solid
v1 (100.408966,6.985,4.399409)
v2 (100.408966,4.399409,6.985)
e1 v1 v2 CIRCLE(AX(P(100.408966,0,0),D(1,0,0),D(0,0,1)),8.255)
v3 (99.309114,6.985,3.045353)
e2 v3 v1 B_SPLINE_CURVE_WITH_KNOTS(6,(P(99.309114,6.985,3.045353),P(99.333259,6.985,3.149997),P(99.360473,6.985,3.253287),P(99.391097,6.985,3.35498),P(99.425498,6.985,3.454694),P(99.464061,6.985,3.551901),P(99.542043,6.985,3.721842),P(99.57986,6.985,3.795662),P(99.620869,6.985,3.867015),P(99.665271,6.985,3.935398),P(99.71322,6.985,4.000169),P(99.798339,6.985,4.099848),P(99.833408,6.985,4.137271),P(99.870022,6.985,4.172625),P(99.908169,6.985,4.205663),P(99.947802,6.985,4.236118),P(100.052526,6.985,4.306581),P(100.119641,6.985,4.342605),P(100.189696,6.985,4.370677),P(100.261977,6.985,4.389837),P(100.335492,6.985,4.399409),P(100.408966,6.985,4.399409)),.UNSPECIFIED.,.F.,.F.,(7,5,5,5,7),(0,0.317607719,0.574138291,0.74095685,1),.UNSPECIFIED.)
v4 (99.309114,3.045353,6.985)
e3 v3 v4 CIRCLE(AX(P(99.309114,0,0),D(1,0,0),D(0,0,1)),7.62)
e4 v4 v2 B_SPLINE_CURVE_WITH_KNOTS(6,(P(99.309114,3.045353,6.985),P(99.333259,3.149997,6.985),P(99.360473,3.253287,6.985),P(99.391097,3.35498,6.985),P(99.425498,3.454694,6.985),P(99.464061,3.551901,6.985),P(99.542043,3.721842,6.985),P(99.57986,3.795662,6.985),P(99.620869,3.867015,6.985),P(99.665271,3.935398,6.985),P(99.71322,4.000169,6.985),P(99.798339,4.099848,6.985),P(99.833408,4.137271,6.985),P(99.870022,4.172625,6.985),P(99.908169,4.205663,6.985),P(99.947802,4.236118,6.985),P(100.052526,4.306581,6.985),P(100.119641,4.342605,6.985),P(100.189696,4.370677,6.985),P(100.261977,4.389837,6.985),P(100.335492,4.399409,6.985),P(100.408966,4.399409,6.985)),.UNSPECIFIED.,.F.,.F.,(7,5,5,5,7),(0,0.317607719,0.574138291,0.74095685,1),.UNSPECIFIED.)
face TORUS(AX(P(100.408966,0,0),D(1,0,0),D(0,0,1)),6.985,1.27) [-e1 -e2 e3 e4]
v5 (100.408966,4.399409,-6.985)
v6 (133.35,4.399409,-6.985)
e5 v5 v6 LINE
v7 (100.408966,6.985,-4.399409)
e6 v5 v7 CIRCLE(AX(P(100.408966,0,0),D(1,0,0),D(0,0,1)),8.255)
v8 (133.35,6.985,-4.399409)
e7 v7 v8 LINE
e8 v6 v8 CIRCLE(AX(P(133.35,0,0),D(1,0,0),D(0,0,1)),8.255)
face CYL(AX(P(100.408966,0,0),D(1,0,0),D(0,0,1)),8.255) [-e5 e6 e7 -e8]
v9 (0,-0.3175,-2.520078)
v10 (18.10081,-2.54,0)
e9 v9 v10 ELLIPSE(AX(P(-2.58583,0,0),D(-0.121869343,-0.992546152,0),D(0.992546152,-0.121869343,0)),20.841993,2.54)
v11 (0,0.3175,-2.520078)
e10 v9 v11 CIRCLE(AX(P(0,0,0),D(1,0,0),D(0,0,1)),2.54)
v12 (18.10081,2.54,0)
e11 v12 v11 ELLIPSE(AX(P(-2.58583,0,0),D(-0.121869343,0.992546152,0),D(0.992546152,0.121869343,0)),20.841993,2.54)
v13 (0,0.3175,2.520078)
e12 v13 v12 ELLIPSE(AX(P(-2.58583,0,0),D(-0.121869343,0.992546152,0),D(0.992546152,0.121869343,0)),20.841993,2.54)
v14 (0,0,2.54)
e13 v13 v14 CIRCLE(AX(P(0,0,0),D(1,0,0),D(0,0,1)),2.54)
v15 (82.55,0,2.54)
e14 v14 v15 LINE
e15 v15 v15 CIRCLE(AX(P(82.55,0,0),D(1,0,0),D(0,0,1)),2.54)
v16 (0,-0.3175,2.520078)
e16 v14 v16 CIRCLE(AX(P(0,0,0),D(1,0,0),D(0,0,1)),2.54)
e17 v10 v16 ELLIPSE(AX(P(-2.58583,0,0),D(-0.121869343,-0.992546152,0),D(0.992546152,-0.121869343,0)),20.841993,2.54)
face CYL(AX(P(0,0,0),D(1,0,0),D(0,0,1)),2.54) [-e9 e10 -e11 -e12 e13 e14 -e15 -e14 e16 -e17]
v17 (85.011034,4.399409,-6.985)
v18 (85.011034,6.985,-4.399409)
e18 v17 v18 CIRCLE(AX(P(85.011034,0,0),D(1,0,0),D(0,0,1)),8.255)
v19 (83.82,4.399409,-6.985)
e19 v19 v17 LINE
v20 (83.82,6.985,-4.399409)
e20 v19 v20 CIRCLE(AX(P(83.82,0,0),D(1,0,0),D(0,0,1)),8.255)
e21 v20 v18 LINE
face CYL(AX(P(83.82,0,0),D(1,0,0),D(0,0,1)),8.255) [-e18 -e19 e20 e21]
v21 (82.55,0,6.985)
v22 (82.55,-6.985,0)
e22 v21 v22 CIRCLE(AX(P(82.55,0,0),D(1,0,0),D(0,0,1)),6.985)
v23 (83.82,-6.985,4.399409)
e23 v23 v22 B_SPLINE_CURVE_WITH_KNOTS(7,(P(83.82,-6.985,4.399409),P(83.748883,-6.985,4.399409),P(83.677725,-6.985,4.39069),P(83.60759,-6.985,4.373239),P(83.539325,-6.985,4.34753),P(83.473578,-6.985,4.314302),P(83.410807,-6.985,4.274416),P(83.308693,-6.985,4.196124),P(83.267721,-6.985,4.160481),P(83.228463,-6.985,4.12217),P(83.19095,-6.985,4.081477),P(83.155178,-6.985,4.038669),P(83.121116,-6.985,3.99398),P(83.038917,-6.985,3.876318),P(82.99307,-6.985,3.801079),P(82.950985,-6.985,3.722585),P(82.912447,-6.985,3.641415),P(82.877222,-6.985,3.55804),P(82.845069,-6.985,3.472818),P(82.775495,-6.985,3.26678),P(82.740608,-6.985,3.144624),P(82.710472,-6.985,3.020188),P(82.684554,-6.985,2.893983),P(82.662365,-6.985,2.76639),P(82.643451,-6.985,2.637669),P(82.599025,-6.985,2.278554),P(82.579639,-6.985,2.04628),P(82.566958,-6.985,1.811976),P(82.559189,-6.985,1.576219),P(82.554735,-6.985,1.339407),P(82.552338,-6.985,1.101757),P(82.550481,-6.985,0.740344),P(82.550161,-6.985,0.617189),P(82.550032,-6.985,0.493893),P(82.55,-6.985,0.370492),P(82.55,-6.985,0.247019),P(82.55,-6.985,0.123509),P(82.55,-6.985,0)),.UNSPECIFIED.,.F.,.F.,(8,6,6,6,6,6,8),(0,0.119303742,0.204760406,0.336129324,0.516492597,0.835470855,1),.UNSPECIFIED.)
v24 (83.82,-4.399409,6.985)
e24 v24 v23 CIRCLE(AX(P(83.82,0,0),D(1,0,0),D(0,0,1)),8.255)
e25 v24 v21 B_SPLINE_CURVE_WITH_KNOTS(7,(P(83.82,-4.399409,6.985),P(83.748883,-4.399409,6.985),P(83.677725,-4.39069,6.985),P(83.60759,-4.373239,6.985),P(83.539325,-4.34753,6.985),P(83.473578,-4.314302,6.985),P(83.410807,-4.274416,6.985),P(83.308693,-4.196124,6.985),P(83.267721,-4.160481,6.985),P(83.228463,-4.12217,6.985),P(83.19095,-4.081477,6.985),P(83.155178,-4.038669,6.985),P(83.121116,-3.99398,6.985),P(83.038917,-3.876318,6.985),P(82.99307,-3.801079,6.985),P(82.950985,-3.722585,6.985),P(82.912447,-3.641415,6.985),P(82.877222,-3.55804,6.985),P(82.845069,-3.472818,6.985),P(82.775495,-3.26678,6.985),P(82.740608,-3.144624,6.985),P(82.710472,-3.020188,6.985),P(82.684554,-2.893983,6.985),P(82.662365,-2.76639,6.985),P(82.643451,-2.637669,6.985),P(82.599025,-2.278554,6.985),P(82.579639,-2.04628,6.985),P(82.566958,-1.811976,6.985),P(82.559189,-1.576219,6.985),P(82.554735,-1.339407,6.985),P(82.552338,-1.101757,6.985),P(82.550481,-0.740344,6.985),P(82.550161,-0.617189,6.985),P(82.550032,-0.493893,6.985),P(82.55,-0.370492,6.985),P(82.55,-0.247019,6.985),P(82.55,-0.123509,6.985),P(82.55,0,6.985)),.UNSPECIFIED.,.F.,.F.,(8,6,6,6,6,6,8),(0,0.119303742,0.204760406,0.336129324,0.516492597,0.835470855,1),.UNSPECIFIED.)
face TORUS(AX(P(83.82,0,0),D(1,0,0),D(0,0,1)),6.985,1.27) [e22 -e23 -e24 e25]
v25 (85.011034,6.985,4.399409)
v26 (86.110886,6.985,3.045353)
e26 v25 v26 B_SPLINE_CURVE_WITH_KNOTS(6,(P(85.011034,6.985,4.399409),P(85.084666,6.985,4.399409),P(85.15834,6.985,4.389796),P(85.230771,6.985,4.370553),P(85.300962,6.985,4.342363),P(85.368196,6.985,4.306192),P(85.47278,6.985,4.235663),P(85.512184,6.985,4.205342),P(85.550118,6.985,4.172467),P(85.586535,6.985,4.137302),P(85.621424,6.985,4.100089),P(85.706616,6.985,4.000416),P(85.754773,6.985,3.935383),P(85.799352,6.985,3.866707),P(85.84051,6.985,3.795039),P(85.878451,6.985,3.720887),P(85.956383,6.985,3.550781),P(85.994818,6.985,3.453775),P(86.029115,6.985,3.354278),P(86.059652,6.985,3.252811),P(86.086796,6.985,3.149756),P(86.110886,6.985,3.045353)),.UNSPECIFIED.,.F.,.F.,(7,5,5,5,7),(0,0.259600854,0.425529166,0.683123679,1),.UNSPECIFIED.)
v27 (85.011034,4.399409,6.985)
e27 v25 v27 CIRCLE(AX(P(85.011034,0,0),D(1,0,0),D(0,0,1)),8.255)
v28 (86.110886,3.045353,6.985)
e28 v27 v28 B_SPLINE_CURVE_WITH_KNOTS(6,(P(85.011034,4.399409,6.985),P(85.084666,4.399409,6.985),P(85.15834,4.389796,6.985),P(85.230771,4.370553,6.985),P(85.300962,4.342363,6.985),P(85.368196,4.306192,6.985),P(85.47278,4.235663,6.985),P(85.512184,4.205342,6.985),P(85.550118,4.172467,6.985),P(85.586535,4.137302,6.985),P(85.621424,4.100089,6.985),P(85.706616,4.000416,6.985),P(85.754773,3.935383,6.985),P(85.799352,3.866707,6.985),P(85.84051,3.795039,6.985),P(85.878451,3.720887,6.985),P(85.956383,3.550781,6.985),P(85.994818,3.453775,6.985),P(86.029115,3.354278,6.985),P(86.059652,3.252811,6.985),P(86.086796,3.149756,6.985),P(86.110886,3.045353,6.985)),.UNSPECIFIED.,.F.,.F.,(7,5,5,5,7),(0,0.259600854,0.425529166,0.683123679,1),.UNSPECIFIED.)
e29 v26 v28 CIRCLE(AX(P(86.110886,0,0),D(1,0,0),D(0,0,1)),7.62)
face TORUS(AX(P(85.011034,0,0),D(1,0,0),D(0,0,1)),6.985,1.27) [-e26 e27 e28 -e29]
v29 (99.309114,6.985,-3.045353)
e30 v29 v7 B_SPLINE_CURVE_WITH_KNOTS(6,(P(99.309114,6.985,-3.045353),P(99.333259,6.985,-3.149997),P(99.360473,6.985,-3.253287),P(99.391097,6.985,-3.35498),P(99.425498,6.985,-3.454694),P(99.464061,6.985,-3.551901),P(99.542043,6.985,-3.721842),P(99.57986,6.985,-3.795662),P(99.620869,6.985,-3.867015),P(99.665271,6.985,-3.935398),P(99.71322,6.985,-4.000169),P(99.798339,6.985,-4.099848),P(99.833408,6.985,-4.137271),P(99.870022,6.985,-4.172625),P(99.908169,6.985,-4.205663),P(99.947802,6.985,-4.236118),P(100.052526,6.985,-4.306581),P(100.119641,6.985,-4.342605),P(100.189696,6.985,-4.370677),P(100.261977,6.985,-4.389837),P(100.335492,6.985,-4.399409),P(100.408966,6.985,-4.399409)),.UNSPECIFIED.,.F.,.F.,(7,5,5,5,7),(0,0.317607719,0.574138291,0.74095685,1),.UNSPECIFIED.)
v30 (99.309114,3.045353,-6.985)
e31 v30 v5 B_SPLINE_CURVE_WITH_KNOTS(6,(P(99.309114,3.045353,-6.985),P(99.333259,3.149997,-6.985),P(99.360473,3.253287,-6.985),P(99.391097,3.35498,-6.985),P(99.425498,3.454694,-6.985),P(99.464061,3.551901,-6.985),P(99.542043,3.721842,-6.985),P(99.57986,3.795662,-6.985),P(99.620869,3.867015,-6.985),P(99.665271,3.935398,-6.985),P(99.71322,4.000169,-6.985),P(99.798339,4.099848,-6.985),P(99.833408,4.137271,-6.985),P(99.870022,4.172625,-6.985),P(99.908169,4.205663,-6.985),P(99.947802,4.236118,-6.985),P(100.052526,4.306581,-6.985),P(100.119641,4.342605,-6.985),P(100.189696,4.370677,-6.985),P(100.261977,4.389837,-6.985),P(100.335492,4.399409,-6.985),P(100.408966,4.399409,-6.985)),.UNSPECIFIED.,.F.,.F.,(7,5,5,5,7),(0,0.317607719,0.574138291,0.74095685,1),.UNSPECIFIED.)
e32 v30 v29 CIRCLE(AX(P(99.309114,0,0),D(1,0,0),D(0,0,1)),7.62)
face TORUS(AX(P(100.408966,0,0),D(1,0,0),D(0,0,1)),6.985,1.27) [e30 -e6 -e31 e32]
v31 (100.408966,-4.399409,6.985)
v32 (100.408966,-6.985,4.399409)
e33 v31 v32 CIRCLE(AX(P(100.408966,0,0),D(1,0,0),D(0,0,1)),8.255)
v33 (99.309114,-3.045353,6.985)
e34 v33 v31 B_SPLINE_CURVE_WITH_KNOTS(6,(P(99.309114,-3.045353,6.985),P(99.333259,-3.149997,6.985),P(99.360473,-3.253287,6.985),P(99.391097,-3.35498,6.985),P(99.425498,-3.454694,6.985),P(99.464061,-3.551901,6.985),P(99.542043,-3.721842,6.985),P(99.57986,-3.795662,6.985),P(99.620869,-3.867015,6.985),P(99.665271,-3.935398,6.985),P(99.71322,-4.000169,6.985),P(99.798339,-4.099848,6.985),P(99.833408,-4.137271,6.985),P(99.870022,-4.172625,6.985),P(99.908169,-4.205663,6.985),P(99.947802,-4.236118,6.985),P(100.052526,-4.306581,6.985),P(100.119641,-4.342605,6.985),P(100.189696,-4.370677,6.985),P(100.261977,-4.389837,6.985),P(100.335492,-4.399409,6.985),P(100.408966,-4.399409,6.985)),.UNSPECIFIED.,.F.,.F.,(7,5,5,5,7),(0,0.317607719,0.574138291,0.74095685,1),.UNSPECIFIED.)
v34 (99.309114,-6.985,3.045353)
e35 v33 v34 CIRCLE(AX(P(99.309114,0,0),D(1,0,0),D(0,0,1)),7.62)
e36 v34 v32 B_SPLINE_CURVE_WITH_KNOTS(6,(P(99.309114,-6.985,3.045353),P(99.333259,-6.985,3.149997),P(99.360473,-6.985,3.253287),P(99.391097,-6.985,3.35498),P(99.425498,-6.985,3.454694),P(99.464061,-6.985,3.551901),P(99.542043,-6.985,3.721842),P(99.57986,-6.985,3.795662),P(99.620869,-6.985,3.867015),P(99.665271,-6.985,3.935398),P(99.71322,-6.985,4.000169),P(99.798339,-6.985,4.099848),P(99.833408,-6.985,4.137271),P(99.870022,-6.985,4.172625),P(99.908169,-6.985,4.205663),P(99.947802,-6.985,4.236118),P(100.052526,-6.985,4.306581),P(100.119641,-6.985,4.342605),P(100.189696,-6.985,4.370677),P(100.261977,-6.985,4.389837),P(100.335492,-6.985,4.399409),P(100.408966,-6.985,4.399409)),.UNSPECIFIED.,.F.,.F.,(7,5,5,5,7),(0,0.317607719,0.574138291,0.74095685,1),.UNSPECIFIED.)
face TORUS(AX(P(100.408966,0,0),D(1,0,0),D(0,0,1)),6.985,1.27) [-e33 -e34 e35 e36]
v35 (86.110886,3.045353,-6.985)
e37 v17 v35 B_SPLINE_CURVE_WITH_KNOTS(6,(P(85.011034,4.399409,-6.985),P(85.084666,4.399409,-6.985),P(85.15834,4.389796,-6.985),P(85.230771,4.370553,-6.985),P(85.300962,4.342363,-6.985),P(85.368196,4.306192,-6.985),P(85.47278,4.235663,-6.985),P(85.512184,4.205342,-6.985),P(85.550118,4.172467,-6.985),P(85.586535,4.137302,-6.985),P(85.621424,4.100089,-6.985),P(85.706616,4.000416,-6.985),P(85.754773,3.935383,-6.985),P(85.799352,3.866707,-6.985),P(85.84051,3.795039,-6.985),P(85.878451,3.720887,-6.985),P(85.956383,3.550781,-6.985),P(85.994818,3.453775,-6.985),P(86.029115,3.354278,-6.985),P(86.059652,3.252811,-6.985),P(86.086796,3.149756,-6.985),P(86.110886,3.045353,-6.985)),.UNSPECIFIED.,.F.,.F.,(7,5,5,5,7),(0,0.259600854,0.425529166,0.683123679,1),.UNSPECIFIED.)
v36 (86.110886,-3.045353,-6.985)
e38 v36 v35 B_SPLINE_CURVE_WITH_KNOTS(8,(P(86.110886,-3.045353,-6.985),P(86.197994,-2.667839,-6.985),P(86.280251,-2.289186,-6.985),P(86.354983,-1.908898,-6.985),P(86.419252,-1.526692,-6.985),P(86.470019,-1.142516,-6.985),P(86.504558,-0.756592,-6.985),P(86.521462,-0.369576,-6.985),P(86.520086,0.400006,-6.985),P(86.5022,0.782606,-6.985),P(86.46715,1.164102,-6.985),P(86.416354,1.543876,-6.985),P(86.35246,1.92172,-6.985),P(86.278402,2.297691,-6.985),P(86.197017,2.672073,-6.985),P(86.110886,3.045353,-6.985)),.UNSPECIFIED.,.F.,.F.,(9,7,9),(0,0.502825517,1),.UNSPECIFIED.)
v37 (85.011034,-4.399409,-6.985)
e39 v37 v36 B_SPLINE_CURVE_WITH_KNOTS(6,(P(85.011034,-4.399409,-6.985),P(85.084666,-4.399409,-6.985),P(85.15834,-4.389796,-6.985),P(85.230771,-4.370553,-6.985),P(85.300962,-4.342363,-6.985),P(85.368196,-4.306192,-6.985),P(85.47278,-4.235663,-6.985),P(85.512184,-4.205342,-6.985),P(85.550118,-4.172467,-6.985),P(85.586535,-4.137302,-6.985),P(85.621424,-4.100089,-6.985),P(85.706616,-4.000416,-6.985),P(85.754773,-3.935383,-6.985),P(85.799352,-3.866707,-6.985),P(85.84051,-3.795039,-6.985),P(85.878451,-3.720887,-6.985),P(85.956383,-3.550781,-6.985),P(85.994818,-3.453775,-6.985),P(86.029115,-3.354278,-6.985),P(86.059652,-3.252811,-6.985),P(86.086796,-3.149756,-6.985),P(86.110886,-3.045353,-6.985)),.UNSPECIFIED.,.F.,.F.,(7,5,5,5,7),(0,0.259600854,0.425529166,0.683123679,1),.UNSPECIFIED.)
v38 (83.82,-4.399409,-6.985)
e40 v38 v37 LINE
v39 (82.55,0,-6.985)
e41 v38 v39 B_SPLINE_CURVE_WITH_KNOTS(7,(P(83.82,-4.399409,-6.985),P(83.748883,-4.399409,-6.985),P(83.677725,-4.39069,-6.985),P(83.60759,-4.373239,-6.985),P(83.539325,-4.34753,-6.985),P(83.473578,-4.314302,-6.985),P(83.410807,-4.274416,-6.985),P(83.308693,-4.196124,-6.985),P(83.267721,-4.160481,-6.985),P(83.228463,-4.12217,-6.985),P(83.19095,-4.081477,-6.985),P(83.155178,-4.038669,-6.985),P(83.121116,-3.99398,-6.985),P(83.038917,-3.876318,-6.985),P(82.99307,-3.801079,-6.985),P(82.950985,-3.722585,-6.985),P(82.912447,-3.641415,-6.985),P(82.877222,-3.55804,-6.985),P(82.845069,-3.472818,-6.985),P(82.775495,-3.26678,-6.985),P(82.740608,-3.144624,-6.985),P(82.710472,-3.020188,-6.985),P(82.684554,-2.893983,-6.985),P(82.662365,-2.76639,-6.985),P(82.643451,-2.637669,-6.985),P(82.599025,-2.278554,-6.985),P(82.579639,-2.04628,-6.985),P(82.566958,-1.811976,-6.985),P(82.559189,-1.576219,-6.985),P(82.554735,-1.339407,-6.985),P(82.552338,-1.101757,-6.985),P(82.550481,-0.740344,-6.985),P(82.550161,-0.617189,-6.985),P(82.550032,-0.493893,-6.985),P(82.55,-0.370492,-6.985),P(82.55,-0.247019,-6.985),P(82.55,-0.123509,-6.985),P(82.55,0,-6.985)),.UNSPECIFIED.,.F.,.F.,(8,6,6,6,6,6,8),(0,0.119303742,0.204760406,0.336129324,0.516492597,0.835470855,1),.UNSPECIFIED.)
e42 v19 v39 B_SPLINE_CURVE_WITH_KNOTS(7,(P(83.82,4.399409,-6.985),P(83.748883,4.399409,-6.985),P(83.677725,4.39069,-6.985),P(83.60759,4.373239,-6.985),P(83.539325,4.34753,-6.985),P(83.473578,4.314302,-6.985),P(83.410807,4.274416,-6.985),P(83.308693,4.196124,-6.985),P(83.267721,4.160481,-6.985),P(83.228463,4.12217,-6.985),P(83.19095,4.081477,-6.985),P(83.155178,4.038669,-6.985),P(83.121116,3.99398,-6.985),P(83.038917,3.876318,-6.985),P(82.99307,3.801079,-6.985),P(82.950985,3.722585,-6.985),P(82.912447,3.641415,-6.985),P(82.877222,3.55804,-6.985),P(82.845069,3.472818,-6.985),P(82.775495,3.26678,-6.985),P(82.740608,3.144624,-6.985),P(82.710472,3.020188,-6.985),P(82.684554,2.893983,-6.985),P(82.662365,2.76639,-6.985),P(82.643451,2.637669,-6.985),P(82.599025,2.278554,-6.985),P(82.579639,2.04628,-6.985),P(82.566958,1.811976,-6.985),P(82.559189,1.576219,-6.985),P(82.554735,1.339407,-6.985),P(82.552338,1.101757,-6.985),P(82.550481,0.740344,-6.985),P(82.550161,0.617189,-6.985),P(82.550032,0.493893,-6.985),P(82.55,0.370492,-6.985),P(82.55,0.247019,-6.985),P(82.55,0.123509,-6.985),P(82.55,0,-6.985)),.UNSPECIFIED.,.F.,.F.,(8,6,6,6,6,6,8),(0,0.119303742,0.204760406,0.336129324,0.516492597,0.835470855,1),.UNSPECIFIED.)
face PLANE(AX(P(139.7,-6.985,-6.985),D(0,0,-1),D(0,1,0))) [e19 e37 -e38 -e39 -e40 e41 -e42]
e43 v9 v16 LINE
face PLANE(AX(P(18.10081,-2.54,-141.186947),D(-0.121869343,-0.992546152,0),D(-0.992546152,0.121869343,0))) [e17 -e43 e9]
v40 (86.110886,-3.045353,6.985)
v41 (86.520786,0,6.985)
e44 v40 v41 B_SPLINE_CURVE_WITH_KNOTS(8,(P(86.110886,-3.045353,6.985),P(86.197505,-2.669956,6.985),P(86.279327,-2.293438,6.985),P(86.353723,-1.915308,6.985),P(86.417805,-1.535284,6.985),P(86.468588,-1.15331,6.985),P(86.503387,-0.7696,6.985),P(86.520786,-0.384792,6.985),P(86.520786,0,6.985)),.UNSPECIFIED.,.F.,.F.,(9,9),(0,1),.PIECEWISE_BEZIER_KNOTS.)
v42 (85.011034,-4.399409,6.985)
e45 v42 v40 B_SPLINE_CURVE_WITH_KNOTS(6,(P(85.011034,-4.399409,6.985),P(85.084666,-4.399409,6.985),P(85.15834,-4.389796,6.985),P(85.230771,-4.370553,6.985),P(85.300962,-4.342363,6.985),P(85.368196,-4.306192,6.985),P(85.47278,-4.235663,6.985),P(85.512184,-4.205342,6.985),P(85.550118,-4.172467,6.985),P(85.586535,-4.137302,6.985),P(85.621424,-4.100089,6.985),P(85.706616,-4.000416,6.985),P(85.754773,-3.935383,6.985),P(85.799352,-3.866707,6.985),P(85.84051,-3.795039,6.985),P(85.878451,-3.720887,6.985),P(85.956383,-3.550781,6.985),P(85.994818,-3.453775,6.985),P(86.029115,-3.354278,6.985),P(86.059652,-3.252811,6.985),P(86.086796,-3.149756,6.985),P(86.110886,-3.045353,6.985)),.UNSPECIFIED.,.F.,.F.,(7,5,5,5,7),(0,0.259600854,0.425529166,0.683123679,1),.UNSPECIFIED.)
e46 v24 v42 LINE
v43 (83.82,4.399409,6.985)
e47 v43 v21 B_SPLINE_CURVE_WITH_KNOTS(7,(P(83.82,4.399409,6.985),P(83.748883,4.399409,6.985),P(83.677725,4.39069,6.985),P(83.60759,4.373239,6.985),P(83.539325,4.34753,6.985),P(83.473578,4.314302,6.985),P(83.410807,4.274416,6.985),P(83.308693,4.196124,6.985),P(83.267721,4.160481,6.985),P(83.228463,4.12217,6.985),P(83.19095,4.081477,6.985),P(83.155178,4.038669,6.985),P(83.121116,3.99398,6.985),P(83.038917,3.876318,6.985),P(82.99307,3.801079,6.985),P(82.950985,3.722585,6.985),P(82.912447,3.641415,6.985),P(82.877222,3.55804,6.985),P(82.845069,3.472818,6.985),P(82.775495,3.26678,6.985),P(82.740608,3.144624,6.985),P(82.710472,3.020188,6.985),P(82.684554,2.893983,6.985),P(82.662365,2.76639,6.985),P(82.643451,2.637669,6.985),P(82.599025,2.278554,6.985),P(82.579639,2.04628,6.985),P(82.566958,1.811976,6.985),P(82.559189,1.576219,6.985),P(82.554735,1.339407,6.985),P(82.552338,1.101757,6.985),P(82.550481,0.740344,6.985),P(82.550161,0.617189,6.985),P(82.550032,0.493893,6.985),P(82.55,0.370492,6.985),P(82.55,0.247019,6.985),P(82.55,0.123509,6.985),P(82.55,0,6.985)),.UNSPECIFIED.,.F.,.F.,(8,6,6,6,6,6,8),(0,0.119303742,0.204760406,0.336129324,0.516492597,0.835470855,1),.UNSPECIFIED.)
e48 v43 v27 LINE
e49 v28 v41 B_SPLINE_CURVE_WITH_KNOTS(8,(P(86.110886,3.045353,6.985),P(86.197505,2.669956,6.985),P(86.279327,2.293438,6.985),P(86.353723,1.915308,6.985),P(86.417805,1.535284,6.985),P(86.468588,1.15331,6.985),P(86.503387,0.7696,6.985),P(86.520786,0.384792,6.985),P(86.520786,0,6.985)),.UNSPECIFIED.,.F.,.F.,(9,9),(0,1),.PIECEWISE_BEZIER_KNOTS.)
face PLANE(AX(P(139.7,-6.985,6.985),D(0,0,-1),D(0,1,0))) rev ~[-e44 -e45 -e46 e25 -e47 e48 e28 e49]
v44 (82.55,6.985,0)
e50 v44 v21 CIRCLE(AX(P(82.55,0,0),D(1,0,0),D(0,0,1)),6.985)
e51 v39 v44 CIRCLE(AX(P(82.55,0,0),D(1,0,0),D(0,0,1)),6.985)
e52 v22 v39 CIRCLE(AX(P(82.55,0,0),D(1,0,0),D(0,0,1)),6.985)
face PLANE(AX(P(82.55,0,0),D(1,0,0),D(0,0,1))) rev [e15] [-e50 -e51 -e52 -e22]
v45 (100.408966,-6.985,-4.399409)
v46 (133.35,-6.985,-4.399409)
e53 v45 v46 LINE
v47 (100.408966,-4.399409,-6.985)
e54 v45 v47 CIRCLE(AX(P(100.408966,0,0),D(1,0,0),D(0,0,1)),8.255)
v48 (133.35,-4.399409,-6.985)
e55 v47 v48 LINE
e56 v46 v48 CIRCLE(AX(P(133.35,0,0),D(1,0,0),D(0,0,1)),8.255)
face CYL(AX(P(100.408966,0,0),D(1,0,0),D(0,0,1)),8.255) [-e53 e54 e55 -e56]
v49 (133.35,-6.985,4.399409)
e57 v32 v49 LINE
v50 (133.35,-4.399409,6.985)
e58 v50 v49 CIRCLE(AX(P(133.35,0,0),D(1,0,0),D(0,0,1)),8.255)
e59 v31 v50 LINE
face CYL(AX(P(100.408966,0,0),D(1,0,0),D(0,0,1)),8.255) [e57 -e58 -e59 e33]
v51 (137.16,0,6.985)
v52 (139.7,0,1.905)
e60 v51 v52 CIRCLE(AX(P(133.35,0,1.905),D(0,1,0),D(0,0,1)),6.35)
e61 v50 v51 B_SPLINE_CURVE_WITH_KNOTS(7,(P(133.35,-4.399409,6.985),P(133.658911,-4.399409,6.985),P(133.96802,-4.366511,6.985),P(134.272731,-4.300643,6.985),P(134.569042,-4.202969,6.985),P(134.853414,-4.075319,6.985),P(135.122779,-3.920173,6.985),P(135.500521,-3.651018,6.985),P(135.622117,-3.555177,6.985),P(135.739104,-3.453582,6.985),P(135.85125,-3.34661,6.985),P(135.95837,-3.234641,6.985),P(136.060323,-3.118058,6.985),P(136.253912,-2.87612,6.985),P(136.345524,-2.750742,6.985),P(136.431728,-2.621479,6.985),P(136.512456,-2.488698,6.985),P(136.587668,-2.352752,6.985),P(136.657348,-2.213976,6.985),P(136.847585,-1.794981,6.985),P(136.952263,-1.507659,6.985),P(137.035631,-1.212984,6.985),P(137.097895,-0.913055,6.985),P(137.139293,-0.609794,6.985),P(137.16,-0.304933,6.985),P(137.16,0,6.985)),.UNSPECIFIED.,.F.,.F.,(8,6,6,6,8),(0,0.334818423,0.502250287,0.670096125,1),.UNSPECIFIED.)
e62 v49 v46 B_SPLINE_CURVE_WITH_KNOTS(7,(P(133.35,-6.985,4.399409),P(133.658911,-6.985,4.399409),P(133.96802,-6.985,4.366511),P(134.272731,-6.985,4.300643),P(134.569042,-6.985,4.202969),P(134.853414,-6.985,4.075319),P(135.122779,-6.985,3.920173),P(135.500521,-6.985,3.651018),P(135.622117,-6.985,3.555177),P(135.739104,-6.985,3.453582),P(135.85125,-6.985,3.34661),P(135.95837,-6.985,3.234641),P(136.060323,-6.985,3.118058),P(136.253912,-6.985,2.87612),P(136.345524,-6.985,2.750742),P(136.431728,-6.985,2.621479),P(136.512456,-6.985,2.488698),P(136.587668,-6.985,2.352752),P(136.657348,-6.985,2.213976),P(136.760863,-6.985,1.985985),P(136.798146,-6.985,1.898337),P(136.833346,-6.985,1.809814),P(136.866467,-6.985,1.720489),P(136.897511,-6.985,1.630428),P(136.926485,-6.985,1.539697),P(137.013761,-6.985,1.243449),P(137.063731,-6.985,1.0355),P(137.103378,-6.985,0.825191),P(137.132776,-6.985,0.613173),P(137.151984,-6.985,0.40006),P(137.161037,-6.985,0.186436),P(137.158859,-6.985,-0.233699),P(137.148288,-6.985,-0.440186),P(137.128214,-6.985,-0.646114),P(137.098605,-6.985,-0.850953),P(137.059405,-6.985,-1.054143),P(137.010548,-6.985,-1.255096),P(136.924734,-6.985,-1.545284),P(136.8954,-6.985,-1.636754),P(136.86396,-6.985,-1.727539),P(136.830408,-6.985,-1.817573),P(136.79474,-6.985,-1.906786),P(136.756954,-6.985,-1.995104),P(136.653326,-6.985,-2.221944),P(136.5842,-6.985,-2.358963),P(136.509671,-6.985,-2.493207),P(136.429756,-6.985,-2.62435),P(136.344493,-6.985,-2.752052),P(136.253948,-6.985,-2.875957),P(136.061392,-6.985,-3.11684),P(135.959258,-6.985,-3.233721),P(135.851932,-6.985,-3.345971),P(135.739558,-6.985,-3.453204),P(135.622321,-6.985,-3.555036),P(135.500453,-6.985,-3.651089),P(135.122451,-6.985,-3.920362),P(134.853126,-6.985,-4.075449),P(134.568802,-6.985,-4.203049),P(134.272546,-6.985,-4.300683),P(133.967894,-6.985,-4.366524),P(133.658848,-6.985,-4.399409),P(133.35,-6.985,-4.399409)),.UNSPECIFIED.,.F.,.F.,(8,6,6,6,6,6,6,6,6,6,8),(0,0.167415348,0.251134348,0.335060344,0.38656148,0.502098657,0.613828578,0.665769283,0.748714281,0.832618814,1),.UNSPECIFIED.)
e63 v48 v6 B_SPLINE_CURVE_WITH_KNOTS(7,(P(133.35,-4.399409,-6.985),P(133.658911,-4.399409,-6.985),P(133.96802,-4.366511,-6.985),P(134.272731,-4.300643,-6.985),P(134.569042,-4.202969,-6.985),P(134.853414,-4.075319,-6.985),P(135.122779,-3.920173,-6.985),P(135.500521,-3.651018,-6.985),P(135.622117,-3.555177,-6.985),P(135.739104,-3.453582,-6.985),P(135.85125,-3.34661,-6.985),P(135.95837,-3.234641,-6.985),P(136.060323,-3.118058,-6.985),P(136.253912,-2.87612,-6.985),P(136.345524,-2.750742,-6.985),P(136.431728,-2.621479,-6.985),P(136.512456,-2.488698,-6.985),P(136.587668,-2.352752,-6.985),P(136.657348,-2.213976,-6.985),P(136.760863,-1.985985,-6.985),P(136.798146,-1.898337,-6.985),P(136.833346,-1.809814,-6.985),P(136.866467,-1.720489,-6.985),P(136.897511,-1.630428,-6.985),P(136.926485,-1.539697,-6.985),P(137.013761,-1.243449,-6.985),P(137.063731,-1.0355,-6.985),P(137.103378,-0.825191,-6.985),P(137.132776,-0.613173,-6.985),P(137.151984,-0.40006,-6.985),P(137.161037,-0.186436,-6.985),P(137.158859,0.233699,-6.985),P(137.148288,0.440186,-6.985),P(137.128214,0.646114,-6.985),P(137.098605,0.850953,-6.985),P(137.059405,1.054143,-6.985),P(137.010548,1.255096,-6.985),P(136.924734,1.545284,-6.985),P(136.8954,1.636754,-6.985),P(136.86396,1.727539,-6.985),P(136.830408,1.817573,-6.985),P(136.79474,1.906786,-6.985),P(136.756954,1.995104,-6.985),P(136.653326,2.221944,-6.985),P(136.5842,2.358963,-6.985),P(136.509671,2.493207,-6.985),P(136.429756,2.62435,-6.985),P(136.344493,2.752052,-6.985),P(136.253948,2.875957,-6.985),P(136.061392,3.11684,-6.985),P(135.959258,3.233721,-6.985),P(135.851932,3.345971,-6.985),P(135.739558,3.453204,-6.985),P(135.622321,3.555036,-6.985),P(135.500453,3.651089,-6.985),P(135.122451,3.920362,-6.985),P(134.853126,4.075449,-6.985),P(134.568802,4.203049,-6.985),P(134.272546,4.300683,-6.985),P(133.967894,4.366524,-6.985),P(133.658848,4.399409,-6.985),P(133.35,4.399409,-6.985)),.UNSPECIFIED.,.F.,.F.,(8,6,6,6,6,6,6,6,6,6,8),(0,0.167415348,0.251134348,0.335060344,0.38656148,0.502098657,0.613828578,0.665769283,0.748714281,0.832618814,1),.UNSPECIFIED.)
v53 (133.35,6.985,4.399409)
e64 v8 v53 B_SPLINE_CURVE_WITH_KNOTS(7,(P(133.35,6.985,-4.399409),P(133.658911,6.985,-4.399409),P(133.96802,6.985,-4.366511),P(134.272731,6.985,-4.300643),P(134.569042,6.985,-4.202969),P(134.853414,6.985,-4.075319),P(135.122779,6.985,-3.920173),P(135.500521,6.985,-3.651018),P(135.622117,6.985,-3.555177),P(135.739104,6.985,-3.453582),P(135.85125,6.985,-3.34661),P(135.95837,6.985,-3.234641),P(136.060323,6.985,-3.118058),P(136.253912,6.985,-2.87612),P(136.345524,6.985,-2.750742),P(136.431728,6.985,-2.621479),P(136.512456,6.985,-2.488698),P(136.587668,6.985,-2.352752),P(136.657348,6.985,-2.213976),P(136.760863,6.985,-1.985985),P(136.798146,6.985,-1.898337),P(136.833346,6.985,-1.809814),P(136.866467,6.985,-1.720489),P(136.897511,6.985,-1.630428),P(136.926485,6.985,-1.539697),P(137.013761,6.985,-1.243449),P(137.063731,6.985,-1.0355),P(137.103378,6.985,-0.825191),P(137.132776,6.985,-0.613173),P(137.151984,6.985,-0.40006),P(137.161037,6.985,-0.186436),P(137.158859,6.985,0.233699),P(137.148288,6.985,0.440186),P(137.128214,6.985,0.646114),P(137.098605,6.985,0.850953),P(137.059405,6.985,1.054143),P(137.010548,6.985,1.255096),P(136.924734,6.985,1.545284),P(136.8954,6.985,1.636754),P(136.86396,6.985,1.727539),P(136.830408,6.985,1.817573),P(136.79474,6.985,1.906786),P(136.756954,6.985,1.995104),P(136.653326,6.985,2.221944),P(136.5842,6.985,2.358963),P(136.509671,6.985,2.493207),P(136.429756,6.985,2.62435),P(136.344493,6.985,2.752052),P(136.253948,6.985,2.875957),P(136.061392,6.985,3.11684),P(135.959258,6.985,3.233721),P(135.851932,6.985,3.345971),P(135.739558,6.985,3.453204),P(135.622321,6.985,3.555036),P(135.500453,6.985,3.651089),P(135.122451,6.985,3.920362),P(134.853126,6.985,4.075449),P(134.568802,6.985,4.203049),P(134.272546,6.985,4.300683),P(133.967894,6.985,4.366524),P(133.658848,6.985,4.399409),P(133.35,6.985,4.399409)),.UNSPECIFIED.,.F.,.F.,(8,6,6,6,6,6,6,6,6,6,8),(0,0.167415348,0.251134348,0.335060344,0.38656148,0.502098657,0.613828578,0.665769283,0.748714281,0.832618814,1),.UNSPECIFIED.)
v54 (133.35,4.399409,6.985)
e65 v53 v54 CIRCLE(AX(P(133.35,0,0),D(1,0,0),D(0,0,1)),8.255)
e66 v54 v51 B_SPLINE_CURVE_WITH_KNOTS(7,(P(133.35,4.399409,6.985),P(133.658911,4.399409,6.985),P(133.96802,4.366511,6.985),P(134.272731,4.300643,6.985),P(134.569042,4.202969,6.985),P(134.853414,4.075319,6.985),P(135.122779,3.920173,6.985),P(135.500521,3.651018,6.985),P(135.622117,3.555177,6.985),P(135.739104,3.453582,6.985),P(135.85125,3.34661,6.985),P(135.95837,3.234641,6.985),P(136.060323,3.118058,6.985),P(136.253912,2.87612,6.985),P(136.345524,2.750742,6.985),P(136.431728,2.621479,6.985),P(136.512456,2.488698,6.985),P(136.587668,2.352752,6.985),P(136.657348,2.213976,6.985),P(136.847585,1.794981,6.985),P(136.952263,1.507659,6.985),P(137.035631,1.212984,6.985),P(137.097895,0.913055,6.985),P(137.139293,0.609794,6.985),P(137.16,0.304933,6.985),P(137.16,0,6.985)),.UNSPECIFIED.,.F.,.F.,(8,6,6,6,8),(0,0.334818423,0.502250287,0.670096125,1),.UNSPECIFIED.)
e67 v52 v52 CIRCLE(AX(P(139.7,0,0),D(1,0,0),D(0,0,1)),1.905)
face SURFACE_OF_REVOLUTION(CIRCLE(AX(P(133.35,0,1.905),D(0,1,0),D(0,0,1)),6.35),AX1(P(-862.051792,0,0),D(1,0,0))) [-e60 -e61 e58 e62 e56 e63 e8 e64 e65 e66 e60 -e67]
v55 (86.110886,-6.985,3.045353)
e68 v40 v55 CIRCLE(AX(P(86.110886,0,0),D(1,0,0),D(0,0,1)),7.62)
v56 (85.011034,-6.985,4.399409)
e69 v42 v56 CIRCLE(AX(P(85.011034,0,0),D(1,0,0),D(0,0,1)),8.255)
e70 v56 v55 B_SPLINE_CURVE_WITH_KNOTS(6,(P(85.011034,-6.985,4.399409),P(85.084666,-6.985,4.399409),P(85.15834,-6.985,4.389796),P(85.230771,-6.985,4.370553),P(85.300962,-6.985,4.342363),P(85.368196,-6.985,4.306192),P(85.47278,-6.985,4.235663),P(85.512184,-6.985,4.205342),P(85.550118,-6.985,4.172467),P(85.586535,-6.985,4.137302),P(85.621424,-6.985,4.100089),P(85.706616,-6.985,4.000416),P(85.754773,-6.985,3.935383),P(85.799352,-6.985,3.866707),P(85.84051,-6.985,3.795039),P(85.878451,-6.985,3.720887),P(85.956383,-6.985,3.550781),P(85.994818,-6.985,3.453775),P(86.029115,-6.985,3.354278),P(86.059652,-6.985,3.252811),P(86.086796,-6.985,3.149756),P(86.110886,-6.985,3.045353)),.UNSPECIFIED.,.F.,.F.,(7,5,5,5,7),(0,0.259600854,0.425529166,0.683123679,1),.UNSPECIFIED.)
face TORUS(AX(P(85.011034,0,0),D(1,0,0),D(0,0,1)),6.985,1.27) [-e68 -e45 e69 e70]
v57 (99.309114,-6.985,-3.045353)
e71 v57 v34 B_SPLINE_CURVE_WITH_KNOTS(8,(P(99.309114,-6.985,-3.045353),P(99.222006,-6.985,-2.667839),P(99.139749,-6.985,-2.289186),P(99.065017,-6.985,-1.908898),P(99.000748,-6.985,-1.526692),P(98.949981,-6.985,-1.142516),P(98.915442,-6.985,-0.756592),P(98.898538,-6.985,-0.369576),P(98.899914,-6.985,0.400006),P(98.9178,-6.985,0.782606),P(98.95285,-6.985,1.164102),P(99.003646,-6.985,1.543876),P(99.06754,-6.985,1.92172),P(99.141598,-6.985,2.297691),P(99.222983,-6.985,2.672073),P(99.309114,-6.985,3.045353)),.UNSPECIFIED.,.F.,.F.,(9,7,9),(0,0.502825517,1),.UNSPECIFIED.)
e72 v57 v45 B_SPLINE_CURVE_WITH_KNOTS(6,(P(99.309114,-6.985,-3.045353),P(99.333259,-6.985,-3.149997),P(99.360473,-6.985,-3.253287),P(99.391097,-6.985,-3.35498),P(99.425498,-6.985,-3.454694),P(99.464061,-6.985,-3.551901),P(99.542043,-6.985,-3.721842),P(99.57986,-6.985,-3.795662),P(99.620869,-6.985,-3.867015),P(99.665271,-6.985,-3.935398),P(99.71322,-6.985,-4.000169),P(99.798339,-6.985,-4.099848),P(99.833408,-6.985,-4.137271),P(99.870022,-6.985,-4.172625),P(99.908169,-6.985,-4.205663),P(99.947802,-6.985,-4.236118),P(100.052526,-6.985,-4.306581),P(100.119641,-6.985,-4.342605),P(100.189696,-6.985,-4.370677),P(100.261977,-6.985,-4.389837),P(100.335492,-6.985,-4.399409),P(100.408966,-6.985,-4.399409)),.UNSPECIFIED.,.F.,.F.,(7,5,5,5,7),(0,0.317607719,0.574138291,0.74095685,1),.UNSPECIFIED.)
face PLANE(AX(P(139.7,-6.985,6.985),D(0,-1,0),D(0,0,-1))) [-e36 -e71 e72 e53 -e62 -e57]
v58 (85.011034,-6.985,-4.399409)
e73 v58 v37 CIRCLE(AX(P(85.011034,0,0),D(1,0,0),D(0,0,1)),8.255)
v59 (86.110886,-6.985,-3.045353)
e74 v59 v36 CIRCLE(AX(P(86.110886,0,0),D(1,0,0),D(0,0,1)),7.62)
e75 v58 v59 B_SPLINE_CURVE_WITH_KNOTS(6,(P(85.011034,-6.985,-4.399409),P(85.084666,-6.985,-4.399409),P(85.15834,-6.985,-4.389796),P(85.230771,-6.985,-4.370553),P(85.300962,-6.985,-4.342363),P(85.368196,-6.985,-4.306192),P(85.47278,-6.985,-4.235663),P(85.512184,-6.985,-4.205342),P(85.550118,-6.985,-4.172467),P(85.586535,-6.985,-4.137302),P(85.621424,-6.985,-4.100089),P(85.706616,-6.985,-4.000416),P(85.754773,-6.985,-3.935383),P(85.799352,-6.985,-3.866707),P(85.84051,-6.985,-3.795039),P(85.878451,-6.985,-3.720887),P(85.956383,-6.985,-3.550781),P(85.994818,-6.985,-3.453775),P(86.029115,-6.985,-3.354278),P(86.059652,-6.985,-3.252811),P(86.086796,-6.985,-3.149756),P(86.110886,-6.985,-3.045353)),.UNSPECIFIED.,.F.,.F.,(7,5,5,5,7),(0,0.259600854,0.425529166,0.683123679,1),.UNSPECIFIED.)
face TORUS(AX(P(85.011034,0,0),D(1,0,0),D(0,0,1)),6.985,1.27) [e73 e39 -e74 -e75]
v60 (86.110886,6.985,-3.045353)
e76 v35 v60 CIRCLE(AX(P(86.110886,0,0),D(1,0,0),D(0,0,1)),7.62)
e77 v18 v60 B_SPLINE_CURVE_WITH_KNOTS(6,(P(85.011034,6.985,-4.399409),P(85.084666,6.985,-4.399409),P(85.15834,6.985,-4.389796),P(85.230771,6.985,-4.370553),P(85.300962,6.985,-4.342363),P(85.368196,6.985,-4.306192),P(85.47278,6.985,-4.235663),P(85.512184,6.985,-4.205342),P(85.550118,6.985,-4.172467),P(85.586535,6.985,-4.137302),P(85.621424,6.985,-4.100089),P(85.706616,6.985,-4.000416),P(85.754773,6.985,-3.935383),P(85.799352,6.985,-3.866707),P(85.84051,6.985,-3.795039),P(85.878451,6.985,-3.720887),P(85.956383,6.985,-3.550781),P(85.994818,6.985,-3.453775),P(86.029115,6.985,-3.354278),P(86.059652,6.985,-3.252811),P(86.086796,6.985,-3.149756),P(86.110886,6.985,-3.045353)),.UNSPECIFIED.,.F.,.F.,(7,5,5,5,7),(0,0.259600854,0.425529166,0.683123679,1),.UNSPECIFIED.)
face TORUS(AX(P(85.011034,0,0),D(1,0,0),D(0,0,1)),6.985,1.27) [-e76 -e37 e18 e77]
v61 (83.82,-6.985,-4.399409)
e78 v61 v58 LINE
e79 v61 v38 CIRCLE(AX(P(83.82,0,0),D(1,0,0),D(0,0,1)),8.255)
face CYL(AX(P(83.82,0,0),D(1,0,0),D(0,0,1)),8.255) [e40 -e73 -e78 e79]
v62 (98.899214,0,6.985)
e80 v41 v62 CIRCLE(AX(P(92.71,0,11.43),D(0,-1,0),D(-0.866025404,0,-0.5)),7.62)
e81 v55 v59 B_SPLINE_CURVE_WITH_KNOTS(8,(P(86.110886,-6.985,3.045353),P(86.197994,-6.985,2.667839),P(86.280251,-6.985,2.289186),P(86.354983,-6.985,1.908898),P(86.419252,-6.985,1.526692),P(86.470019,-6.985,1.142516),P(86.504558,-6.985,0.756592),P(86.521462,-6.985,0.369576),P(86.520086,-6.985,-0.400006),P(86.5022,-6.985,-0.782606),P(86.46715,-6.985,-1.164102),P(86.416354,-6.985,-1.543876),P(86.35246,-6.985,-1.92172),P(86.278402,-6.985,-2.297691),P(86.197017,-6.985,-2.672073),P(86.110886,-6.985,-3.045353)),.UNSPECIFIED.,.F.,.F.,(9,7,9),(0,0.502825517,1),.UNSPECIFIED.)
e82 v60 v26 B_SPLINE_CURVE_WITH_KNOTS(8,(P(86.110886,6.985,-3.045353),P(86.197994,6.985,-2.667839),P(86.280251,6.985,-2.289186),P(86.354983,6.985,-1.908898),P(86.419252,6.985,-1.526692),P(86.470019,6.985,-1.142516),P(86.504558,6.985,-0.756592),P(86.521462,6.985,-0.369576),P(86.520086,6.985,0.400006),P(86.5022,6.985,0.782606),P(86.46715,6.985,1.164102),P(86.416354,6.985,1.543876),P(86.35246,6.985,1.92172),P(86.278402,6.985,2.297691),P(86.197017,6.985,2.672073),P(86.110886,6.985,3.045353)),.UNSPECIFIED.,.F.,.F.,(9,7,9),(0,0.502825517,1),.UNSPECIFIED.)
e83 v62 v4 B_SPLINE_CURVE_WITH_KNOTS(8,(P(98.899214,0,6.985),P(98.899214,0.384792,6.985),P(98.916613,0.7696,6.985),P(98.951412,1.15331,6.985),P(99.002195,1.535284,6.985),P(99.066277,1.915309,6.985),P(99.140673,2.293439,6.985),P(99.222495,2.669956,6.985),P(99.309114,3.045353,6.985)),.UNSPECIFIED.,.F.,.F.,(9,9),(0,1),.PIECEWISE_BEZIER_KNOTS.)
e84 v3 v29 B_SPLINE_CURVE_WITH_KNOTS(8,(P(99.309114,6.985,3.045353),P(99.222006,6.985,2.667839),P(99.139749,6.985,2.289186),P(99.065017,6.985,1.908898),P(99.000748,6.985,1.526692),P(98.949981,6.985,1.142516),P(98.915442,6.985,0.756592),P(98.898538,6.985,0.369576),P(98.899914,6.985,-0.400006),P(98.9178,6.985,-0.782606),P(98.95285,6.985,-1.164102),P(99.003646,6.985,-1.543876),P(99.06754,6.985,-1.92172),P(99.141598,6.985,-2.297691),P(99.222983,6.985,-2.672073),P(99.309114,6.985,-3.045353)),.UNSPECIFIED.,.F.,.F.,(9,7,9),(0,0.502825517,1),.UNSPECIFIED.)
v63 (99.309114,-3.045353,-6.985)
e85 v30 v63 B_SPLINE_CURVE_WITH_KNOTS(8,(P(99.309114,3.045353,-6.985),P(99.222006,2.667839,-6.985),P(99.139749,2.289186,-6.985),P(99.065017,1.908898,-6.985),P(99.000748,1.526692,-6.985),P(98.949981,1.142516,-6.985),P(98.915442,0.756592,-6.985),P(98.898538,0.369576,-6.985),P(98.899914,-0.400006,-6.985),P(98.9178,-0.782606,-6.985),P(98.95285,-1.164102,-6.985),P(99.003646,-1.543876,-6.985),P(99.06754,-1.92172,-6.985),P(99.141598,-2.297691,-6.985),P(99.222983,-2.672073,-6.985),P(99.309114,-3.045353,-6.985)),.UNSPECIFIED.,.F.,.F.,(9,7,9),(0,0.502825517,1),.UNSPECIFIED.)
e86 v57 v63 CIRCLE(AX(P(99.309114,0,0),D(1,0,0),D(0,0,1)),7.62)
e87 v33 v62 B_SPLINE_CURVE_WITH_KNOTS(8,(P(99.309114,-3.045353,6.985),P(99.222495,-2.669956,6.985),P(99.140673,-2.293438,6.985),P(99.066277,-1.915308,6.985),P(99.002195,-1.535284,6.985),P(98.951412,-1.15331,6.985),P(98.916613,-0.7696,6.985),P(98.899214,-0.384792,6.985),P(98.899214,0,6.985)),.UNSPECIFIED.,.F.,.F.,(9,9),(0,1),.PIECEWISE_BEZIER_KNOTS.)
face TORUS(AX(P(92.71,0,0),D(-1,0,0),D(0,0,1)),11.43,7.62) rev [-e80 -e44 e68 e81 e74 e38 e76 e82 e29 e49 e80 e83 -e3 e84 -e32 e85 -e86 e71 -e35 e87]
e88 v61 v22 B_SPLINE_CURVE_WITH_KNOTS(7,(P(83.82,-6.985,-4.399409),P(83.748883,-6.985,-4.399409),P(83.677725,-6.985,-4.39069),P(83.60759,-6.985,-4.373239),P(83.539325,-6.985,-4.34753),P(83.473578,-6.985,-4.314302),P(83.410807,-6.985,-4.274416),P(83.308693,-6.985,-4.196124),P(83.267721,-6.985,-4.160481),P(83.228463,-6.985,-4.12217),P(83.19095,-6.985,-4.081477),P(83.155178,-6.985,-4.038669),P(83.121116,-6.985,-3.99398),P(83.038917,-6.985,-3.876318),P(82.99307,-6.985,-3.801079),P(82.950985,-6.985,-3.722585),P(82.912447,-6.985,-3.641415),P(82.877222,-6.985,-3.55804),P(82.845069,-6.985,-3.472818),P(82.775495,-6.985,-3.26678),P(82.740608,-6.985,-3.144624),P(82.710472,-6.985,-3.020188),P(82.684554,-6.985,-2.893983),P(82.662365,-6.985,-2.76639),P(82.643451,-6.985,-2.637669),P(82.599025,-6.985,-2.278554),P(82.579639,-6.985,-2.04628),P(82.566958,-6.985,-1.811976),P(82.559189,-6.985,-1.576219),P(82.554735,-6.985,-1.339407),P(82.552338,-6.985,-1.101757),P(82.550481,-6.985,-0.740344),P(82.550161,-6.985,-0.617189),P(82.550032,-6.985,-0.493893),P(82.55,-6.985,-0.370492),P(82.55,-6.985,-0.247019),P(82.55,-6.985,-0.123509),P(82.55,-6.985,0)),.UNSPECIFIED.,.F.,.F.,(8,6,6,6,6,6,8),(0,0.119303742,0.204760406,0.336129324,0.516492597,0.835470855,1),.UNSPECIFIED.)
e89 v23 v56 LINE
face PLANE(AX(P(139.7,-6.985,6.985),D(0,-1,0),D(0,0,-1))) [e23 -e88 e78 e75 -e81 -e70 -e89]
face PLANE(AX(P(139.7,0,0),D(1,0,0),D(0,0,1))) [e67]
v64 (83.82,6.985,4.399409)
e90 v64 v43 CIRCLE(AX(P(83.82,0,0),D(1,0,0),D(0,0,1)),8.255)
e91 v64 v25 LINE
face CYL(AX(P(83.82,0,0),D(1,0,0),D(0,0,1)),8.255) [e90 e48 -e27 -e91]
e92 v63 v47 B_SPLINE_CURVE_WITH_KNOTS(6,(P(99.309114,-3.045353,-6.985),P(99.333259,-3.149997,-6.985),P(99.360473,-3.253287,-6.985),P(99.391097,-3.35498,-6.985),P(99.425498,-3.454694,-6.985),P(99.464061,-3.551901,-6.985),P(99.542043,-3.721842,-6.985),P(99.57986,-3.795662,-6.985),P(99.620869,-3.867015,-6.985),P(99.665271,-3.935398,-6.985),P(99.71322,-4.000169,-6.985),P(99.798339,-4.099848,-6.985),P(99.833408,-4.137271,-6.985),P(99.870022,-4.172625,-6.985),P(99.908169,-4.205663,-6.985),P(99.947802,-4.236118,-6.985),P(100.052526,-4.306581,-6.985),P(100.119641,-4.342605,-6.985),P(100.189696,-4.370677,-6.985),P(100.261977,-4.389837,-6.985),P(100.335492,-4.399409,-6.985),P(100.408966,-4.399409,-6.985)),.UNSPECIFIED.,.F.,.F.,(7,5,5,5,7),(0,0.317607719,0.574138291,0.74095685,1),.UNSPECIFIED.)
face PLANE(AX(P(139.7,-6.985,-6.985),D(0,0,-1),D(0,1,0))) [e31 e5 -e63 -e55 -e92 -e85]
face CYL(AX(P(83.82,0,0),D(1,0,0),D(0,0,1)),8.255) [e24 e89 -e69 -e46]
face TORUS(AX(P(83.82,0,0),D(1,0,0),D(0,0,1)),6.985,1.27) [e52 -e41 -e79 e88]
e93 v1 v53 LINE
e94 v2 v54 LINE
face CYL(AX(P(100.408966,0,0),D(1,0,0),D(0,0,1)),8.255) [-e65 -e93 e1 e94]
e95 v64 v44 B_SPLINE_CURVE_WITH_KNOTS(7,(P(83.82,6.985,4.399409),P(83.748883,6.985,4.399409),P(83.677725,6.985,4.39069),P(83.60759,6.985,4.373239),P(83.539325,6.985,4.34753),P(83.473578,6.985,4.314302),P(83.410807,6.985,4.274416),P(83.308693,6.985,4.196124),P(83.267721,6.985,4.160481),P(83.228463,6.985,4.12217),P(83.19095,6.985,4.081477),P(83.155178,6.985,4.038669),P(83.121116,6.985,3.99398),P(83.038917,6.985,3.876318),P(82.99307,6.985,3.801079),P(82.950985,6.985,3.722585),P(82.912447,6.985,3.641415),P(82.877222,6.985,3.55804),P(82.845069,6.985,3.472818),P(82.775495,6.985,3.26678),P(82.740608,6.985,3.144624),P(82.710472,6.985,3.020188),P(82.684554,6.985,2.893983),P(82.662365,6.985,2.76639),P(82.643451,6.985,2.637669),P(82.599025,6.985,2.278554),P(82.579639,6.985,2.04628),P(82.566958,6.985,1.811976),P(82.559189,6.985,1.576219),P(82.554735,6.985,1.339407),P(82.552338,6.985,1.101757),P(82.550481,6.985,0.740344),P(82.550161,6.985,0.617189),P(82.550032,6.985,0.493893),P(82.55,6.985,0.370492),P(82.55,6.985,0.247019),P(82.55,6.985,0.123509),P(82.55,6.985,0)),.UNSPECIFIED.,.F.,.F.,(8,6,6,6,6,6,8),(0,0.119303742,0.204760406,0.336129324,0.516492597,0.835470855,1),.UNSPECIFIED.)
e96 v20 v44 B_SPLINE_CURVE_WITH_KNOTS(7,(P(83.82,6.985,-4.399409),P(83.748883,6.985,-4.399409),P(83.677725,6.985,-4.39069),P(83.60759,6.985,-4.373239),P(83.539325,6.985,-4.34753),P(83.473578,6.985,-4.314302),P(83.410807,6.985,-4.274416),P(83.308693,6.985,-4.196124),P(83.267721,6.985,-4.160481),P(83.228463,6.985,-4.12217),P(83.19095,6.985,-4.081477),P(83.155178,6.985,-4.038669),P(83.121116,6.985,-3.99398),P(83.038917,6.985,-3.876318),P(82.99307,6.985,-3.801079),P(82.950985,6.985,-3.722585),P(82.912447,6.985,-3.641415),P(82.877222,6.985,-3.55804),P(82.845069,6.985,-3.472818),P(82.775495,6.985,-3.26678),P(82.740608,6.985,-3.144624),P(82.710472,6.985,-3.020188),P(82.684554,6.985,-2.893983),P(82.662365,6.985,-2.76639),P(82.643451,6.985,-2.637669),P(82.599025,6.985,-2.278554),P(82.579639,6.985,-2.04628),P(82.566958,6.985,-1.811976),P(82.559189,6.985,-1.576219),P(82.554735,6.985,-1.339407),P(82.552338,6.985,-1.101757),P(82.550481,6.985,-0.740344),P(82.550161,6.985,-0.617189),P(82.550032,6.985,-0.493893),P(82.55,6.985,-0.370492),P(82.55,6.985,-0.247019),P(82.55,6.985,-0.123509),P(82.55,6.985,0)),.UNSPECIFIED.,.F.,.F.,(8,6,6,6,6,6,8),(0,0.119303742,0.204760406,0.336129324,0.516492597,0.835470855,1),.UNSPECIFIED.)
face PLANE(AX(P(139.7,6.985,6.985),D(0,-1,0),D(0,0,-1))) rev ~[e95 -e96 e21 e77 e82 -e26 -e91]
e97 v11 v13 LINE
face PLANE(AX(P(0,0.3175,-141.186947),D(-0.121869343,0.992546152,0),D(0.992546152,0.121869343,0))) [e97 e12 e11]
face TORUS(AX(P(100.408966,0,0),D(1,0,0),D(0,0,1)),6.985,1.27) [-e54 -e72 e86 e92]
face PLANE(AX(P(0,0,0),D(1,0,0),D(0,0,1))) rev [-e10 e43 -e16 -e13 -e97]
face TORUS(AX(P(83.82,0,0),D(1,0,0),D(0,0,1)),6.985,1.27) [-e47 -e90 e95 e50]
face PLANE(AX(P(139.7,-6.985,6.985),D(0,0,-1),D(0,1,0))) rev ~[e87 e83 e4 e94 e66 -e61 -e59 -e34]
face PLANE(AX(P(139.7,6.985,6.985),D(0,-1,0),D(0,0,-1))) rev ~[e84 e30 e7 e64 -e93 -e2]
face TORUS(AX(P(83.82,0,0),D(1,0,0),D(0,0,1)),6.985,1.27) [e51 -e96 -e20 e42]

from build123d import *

# Parameters (mm, degrees)
CUT_EXTRUDE3_DEPTH      = 141.1869469
CUT_EXTRUDE3_DEPTH_BACK = 141.1869469
SKETCH8_OUTSIDE_W       = 46.838
SKETCH8_OUTSIDE_H       = 46.838
SKETCH8_OUTSIDE_W_2     = 13.97
SKETCH8_OUTSIDE_H_2     = 13.97
CUT_EXTRUDE4_DEPTH      = 141.186946801


with BuildPart() as part:
    # Sketch1 → Revolve3 (revolve)
    with BuildSketch(Plane.XY, mode=Mode.PRIVATE) as revolve3_sk:
        with BuildLine():
            Line((0, 0), (0, 2.54))
            Line((0, 2.54), (82.55, 2.54))
            Line((82.55, 2.54), (82.55, 6.985))
            ThreePointArc((82.55, 6.985), (82.921974388, 7.883025612), (83.82, 8.255))
            Line((83.82, 8.255), (85.01103416, 8.255))
            ThreePointArc((85.01103416, 8.255), (85.64603416, 8.084852263), (86.110886423, 7.62))
            ThreePointArc((86.110886423, 7.62), (92.71, 3.81), (99.309113577, 7.62))
            ThreePointArc((99.309113577, 7.62), (99.77396584, 8.084852263), (100.40896584, 8.255))
            Line((100.40896584, 8.255), (133.35, 8.255))
            ThreePointArc((133.35, 8.255), (137.840128061, 6.395128061), (139.7, 1.905))
            Line((139.7, 1.905), (139.7, 0))
            Line((139.7, 0), (0, 0))
        make_face()
    revolve(revolve3_sk.sketch.rotate(Axis((-862.051792103, 0, 0), (1, 0, 0)), 90), axis=Axis((-862.051792103, 0, 0), (1, 0, 0)))

    # Sketch5 → Cut-Extrude3 (cut, two sides: drawn at the far end of the back side and taken through both)
    with BuildSketch(Plane.XY.offset(-CUT_EXTRUDE3_DEPTH_BACK)):
        Polygon((270.361206931, -33.513682078), (18.100809936, -2.54), (0, -0.3175), (0, 0.3175), (18.100809936, 2.54), (270.361206931, 33.513682078), (-237.948450162, 33.513682078), (-237.948450162, -33.513682078), align=None)
    extrude(amount=CUT_EXTRUDE3_DEPTH + CUT_EXTRUDE3_DEPTH_BACK, mode=Mode.SUBTRACT)

    # Sketch8 outside → Cut-Extrude4 (cut, through all)
    with BuildSketch(Plane(origin=(139.7, 0, 0), x_dir=(0, 0, -1), z_dir=(1, 0, 0))):
        Rectangle(SKETCH8_OUTSIDE_W, SKETCH8_OUTSIDE_H)
        Rectangle(SKETCH8_OUTSIDE_W_2, SKETCH8_OUTSIDE_H_2, mode=Mode.SUBTRACT)
    extrude(amount=-CUT_EXTRUDE4_DEPTH, mode=Mode.SUBTRACT)


solid = part.part
